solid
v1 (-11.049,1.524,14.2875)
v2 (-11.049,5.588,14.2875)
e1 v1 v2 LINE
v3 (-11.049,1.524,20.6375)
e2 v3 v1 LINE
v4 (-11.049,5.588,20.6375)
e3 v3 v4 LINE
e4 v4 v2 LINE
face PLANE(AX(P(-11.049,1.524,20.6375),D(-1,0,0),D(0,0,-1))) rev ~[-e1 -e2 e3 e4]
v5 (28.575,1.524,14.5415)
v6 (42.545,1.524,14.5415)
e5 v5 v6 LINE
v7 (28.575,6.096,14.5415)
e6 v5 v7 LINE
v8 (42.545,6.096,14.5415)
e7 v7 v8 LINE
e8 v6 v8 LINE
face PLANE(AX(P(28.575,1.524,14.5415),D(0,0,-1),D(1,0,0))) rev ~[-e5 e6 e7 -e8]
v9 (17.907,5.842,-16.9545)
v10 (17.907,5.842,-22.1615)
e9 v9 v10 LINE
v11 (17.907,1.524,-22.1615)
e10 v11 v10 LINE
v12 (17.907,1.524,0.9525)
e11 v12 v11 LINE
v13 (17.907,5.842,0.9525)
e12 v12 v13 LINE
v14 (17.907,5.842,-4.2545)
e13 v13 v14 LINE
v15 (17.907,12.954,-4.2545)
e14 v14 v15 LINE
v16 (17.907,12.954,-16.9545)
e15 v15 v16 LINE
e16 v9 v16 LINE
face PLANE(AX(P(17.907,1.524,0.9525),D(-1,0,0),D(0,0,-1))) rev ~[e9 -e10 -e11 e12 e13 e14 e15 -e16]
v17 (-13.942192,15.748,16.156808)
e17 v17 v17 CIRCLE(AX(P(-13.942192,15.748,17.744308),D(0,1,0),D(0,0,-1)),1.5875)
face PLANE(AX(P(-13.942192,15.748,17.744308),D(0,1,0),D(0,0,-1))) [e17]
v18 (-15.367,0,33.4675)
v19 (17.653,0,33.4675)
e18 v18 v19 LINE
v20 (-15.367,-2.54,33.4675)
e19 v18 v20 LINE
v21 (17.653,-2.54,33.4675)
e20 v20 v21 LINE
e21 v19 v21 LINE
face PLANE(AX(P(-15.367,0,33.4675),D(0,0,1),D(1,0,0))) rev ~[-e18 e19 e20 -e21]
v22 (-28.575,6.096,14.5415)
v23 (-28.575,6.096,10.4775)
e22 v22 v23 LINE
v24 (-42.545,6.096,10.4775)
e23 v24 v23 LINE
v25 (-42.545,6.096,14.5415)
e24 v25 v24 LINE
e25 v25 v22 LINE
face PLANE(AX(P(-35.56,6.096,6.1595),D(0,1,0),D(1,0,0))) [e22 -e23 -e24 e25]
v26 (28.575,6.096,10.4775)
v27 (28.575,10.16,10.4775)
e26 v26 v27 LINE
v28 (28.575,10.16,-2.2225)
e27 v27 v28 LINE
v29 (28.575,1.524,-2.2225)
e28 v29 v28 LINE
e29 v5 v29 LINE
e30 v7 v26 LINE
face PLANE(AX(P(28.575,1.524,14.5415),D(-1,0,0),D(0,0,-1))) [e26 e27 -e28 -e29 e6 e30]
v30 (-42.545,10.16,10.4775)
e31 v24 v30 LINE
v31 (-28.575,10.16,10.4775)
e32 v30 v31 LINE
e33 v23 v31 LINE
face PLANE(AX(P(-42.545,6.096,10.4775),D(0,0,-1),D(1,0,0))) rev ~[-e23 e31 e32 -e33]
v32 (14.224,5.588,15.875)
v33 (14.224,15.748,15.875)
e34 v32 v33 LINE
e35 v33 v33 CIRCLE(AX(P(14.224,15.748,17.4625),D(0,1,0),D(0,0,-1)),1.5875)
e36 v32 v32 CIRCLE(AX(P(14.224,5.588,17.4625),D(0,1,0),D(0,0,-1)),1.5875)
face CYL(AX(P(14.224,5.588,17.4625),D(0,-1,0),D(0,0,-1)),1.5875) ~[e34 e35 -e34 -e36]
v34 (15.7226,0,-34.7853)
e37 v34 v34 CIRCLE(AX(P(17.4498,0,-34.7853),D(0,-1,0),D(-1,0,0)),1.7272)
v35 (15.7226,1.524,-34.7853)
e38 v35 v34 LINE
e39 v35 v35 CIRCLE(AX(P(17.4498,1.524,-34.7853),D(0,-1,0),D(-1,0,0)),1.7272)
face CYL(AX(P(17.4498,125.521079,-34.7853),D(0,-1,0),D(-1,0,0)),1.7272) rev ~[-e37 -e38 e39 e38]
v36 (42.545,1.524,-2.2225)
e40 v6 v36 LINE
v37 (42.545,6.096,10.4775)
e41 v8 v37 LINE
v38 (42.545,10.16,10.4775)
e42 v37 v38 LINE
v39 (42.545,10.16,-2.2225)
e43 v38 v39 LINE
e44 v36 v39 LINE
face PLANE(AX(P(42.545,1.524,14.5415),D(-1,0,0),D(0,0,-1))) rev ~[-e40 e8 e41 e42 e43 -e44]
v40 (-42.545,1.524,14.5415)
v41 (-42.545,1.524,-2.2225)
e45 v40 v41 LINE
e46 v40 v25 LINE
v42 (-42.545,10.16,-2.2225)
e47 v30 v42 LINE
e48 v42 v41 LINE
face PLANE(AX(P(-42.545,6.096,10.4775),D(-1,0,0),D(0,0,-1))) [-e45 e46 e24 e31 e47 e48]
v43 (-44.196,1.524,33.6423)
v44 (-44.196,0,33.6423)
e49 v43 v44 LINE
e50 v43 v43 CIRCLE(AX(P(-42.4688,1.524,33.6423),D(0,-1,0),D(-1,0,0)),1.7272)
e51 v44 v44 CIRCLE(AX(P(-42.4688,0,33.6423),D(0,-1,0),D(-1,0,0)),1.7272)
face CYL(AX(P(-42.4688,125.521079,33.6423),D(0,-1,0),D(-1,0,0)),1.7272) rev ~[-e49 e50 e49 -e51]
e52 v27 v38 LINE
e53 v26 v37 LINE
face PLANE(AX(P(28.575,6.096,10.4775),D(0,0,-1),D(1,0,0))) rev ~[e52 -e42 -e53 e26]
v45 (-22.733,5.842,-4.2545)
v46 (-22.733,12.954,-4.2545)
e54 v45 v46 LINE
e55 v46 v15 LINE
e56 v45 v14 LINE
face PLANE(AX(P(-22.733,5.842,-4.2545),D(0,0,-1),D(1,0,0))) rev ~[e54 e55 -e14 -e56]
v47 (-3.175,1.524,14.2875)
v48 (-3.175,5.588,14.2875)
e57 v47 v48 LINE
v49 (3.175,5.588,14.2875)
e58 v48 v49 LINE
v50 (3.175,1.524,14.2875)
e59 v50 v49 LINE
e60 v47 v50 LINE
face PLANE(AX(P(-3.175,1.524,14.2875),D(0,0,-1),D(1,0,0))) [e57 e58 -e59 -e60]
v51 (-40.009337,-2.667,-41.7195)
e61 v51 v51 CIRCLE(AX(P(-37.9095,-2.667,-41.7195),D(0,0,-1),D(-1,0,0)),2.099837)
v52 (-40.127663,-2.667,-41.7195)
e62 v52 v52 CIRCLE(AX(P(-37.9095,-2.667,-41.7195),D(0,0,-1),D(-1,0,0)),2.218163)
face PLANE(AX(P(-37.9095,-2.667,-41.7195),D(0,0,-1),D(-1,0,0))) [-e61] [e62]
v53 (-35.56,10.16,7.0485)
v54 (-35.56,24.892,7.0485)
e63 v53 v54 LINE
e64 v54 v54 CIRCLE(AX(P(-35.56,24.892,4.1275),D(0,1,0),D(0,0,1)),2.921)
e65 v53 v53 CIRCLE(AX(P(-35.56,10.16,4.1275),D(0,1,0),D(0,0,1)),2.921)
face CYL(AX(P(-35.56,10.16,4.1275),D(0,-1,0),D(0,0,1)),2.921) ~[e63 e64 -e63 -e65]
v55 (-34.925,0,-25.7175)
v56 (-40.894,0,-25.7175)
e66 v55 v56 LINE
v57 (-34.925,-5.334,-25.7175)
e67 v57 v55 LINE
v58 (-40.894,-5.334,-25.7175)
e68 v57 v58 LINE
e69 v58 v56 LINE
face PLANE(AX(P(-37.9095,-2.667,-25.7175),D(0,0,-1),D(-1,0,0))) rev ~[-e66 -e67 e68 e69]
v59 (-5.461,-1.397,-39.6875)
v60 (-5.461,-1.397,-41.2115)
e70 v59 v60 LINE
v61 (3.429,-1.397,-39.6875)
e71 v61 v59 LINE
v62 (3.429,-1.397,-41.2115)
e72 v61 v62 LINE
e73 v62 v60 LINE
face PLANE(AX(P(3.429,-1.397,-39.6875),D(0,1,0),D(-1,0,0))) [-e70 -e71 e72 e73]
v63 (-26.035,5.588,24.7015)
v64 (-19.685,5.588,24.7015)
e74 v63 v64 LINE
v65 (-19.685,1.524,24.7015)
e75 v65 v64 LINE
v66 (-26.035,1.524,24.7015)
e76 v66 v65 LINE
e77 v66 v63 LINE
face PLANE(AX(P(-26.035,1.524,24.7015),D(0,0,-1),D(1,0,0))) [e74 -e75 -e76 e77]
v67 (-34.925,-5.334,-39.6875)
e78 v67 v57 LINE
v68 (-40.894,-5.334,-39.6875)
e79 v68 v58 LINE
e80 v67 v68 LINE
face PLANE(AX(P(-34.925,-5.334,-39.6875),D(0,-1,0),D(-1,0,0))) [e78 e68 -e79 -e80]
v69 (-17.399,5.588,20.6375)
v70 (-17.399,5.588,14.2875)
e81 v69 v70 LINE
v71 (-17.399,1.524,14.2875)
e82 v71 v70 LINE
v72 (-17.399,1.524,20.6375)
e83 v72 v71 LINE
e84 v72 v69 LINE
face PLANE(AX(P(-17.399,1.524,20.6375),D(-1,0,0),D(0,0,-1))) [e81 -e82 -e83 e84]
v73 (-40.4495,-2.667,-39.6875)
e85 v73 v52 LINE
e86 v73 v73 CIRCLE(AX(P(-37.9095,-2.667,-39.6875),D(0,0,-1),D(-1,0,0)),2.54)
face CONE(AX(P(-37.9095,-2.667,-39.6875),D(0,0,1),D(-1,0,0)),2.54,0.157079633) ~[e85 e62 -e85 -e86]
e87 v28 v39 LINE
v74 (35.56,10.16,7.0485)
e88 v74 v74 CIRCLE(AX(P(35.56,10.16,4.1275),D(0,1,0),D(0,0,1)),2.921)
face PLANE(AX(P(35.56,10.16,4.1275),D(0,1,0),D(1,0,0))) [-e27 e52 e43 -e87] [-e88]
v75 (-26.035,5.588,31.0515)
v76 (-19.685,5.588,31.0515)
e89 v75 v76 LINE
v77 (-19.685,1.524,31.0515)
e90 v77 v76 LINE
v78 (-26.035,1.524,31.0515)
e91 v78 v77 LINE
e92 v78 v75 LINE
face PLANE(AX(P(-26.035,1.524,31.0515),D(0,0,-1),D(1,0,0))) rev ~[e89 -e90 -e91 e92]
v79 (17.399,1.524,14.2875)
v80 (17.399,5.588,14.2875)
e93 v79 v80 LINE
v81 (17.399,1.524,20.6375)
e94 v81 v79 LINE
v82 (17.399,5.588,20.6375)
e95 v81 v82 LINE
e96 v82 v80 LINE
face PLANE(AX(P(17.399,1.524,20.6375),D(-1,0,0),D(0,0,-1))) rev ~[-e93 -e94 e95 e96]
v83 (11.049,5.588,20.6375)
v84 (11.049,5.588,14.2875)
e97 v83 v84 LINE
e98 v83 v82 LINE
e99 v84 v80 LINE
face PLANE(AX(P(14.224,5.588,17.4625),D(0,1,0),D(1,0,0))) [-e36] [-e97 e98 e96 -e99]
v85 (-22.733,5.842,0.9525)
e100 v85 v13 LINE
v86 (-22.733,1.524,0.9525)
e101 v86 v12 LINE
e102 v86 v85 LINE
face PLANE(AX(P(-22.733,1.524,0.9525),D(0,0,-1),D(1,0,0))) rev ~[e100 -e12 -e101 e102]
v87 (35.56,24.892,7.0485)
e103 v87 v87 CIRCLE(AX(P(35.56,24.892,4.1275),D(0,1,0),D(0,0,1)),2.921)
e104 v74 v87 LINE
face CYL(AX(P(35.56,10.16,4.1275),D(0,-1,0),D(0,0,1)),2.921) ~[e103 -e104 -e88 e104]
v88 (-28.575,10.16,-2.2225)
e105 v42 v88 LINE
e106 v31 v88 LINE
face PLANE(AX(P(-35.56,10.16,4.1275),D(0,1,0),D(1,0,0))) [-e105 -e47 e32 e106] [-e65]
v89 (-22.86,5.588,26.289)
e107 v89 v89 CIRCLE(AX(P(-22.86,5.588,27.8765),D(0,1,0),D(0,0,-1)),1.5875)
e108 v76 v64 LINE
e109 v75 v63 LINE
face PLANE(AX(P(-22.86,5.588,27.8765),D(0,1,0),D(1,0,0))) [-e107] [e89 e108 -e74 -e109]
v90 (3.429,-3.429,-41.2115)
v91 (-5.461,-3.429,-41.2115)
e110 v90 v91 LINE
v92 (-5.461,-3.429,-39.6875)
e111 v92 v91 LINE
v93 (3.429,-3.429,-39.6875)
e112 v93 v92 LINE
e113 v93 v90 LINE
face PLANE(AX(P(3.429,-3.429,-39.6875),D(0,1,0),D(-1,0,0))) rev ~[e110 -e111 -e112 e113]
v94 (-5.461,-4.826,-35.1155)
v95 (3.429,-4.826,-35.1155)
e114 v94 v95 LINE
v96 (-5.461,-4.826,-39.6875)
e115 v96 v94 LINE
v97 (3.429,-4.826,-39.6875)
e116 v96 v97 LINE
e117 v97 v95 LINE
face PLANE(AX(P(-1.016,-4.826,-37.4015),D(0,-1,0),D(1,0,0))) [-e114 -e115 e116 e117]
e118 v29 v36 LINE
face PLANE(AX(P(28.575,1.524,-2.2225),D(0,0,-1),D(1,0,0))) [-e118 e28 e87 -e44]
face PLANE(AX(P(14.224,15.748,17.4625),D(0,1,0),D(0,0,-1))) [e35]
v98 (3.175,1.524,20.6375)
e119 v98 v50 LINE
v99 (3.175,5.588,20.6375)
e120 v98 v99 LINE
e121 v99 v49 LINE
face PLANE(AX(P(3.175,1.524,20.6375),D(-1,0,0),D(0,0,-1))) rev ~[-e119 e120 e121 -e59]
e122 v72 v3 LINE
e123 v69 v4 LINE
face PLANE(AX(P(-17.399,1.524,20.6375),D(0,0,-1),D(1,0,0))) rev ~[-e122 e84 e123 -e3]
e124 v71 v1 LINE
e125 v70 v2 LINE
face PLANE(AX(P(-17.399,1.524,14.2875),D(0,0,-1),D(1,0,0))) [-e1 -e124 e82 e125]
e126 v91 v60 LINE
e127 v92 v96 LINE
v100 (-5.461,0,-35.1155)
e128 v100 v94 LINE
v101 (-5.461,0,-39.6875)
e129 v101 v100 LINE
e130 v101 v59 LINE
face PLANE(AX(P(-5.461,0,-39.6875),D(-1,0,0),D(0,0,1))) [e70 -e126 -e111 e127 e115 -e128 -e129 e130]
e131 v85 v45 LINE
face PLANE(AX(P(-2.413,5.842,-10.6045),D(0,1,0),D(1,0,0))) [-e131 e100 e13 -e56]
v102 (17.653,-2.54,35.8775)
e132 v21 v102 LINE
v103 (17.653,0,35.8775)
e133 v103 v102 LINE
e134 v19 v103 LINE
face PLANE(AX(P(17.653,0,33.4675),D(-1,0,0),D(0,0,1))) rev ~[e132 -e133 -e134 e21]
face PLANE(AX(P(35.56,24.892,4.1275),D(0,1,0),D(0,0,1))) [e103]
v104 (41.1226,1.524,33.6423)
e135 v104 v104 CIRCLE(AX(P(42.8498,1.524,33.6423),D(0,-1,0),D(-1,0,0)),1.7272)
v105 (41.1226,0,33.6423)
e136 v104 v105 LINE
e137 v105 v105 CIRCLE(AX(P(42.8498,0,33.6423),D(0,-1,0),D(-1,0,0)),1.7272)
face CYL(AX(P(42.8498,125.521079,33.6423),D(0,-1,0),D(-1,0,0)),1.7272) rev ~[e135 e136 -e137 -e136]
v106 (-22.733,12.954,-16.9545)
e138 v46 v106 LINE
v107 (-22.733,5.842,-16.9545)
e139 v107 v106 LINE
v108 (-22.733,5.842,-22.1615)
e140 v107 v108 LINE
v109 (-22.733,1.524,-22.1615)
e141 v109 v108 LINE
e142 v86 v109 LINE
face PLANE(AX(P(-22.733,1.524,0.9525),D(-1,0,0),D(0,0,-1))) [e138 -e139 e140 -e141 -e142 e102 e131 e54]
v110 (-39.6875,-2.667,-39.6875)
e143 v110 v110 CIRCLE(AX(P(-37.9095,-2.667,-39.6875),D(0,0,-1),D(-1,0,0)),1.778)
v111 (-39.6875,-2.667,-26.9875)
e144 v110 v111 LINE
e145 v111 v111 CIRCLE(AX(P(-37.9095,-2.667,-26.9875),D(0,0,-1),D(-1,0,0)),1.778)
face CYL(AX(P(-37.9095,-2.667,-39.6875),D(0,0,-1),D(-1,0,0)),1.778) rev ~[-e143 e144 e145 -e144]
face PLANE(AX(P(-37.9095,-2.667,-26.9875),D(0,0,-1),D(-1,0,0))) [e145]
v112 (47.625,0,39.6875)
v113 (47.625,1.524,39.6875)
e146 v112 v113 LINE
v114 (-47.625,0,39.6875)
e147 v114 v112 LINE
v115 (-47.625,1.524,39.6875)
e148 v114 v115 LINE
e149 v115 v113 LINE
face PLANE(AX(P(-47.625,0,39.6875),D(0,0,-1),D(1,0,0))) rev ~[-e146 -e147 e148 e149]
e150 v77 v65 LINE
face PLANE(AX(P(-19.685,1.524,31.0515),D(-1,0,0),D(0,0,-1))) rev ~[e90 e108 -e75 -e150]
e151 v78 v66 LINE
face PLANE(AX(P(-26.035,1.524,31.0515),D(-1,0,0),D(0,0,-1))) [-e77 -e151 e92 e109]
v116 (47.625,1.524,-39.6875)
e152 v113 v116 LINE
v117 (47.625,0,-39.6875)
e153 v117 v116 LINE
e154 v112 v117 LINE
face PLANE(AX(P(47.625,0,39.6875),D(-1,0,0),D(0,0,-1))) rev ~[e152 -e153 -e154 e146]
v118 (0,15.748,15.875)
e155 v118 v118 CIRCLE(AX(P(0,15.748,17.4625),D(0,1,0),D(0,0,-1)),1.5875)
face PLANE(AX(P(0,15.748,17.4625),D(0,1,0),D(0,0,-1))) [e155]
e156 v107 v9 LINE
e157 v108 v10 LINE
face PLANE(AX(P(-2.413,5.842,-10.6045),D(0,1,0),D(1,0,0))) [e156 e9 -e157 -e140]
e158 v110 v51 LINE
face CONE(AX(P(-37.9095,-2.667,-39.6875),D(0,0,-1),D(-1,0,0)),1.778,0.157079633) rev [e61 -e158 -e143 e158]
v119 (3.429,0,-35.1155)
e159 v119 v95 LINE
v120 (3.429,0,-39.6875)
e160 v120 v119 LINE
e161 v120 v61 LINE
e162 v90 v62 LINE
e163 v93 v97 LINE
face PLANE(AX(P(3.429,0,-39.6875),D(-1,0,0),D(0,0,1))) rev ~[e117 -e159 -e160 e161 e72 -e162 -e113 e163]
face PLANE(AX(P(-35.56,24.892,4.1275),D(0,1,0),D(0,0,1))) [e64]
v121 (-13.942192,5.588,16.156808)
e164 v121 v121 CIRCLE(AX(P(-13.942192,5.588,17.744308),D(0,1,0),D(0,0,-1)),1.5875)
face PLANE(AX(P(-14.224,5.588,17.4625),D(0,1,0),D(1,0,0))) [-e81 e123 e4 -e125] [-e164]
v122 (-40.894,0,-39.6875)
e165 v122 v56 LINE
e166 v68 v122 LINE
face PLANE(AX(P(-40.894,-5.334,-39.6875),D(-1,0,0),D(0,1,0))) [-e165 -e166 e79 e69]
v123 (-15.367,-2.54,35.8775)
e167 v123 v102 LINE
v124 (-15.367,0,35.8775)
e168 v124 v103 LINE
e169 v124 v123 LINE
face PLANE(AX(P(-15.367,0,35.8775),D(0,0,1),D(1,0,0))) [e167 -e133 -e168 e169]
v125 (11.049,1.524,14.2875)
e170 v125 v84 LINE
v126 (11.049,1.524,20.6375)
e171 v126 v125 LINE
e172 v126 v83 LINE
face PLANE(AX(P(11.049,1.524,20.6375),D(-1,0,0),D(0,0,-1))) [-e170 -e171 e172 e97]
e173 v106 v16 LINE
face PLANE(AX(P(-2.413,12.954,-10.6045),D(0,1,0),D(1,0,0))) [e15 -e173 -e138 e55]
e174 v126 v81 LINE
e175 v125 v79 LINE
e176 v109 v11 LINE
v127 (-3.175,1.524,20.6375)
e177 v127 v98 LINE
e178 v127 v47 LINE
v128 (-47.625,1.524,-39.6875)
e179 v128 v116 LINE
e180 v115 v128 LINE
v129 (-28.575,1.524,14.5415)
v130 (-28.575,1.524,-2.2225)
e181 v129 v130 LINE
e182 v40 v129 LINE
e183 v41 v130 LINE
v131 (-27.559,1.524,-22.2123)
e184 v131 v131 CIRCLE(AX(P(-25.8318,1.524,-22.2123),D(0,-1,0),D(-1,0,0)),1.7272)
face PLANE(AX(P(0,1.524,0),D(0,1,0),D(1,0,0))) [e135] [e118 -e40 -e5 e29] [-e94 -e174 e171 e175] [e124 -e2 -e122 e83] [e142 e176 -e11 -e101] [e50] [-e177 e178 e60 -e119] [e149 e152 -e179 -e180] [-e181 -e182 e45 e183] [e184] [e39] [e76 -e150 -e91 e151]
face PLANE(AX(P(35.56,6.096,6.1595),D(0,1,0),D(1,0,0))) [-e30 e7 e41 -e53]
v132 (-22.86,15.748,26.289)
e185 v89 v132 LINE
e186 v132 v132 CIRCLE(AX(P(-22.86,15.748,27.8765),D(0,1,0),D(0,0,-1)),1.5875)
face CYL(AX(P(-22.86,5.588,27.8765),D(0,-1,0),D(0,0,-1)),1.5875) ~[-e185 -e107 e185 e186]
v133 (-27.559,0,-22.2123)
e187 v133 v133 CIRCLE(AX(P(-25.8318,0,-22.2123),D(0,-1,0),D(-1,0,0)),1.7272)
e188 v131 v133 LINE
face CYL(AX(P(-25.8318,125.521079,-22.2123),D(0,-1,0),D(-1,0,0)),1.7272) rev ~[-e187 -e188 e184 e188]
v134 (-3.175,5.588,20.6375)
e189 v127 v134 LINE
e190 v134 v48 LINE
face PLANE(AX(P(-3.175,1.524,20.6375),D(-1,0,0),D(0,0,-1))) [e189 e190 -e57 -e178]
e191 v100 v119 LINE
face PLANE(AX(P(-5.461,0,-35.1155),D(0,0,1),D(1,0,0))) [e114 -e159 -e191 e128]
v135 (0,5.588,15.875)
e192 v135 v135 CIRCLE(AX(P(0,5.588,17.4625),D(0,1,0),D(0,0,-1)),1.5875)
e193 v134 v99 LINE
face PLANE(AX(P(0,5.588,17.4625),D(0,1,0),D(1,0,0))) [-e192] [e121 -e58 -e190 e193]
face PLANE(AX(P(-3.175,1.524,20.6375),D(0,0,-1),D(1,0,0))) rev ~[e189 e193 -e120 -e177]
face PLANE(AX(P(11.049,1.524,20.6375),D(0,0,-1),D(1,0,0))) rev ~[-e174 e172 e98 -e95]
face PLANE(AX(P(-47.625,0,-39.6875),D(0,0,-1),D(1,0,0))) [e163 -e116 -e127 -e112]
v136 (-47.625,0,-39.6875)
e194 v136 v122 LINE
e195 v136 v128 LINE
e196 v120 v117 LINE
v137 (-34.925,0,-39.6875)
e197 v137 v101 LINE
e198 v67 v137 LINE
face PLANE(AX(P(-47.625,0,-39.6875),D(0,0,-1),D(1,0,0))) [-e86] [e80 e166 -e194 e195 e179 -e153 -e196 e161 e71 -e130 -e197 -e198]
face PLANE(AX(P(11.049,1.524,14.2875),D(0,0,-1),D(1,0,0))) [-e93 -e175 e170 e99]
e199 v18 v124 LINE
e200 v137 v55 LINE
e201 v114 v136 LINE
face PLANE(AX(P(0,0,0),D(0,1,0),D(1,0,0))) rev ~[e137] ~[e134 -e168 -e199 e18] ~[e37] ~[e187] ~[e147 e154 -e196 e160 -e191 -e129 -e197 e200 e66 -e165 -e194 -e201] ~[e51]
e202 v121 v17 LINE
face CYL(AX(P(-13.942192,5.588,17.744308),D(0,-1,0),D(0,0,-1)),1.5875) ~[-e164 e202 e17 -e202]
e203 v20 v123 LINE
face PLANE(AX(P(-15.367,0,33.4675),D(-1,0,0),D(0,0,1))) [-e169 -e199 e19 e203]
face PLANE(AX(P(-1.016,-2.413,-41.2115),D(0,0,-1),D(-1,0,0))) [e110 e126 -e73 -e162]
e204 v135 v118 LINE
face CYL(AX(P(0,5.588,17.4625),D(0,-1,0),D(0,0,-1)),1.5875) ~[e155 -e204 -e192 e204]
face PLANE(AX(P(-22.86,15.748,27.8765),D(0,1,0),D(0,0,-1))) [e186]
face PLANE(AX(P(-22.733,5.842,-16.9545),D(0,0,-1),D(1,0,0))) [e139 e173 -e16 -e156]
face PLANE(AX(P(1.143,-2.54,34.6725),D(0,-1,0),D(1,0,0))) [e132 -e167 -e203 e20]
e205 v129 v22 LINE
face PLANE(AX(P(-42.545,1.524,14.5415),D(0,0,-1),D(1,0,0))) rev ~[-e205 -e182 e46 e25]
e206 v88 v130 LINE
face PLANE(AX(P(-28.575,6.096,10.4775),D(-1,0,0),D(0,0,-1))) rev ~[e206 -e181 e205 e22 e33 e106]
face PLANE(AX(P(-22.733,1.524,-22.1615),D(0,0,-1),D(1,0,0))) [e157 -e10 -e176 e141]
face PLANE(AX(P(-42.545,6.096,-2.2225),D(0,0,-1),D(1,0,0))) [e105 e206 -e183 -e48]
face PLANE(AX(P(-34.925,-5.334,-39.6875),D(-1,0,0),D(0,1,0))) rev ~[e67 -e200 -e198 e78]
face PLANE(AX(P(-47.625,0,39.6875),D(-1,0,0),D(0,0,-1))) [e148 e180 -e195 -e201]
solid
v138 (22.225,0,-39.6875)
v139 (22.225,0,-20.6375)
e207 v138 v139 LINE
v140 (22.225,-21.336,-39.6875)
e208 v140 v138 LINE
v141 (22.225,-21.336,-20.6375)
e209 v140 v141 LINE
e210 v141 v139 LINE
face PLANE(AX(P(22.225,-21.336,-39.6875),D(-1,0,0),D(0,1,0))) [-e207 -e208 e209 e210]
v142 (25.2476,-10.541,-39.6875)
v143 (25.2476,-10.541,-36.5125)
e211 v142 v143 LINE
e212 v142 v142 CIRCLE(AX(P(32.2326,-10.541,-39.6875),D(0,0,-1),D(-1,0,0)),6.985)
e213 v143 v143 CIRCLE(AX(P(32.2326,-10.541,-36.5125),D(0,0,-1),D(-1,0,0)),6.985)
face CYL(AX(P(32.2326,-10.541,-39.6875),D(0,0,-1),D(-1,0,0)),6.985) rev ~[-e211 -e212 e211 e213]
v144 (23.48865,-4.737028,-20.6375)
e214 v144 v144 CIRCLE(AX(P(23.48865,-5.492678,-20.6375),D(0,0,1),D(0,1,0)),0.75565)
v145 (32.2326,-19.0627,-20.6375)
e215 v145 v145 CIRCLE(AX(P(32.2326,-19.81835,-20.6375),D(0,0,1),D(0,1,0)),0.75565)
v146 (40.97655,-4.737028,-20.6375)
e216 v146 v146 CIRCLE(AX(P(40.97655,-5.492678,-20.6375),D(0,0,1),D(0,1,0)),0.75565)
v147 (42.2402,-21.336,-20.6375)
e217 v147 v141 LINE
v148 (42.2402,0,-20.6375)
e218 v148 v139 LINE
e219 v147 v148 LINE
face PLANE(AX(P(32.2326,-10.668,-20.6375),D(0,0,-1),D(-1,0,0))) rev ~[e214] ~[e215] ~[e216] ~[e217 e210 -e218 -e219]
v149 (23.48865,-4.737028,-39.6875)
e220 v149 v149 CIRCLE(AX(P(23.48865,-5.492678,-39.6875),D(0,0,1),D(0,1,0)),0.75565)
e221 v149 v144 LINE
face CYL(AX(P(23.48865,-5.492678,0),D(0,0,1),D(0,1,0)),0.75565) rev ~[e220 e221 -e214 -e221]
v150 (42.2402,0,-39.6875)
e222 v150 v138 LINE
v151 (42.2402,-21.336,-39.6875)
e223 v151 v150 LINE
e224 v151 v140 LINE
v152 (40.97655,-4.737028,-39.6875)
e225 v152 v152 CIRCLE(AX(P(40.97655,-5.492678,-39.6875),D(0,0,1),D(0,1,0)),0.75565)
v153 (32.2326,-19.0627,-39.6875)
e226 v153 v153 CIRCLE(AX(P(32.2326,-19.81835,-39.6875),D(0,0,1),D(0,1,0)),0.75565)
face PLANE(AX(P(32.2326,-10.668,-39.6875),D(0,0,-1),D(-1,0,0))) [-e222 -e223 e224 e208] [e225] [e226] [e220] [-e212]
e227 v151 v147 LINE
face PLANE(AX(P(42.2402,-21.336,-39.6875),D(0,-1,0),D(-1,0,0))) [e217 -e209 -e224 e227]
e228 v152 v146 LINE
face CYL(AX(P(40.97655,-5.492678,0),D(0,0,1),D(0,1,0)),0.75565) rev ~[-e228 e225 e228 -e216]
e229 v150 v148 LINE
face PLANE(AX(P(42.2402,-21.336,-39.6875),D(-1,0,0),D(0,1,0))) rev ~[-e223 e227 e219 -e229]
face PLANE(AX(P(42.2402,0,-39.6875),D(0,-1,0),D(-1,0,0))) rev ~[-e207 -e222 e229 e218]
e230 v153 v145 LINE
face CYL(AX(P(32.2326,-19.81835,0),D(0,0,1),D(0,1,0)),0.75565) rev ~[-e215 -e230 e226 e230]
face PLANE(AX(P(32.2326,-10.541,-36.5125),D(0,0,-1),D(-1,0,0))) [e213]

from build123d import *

# Parameters (mm, degrees)
SKETCH1_W                             = 95.25
SKETCH1_H                             = 79.375
BOSS_EXTRUDE1_DEPTH                   = 1.524
F_29_0_136_DIAMETER_HOLE1_D           = 3.4544
SKETCH4_W                             = 13.97
SKETCH4_H                             = 16.764
BOSS_EXTRUDE2_DEPTH                   = 4.572
SKETCH5_W                             = 13.97
SKETCH5_H                             = 12.7
BOSS_EXTRUDE3_DEPTH                   = 4.064
SKETCH8_W                             = 6.35
SKETCH8_H                             = 6.35
BOSS_EXTRUDE5_DEPTH                   = 4.064
SKETCH9_R                             = 1.5875
BOSS_EXTRUDE6_DEPTH                   = 10.16
SKETCH10_R                            = 2.921
BOSS_EXTRUDE7_DEPTH                   = 14.732
SKETCH11_W                            = 20.0152
SKETCH11_H                            = 21.336
BOSS_EXTRUDE8_DEPTH                   = 19.05
SKETCH12_R                            = 6.985
CUT_EXTRUDE1_DEPTH                    = 3.175
SKETCH14_W                            = 0.75565
SKETCH14_H                            = 79.375
F_53_0_0595_DIAMETER_HOLE1_AT_2_COUNT = 2
F_53_0_0595_DIAMETER_HOLE1_AT_2_PITCH = 17.4879
F_53_0_0595_DIAMETER_HOLE1_AT_3_COUNT = 2
F_53_0_0595_DIAMETER_HOLE1_AT_3_PITCH = 16.783370835
SKETCH15_W                            = 5.969
SKETCH15_H                            = 5.334
BOSS_EXTRUDE9_DEPTH                   = 13.97
SKETCH16_R                            = 2.54
SKETCH16_R_2                          = 1.778
BOSS_EXTRUDE10_DEPTH                  = 2.032
BOSS_EXTRUDE10_DRAFT                  = 9
SKETCH17_R                            = 1.778
CUT_EXTRUDE2_DEPTH                    = 12.7
SKETCH18_W                            = 40.64
SKETCH18_H                            = 23.114
BOSS_EXTRUDE11_DEPTH                  = 4.318
SKETCH19_W                            = 40.64
SKETCH19_H                            = 12.7
BOSS_EXTRUDE12_DEPTH                  = 7.112
SKETCH20_W                            = 33.02
SKETCH20_H                            = 2.410000006
BOSS_EXTRUDE13_DEPTH                  = 2.54
SKETCH21_W                            = 8.89
SKETCH21_H                            = 4.572
BOSS_EXTRUDE14_DEPTH                  = 4.826
SKETCH22_W                            = 8.89
SKETCH22_H                            = 2.032
BOSS_EXTRUDE15_DEPTH                  = 1.524


with BuildPart() as part:
    # Sketch1 → Boss-Extrude1 (new body)
    with BuildSketch(Plane(origin=(0, 0, 0), x_dir=(1, 0, 0), z_dir=(0, 1, 0))):
        Rectangle(SKETCH1_W, SKETCH1_H)
    extrude(amount=BOSS_EXTRUDE1_DEPTH)

    # #29 (0.136) Diameter Hole1 (through all)
    with Locations(Plane(origin=(0, 1.524, 0), x_dir=(1, 0, 0), z_dir=(0, 1, 0))):
        with Locations((42.8498, -33.6423), (17.4498, 34.7853), (-25.8318, 22.2123), (-42.4688, -33.6423)):
            Hole(F_29_0_136_DIAMETER_HOLE1_D / 2)

    # Sketch4 → Boss-Extrude2 (add)
    with BuildSketch(Plane(origin=(0, 1.524, 0), x_dir=(1, 0, 0), z_dir=(0, 1, 0))):
        with Locations((35.56, -6.1595)):
            Rectangle(SKETCH4_W, SKETCH4_H)
        with Locations((-35.56, -6.1595)):
            Rectangle(SKETCH4_W, SKETCH4_H)
    extrude(amount=BOSS_EXTRUDE2_DEPTH)

    # Sketch5 → Boss-Extrude3 (add)
    with BuildSketch(Plane(origin=(0, 6.096, 0), x_dir=(1, 0, 0), z_dir=(0, 1, 0))):
        with Locations((-35.56, -4.1275)):
            Rectangle(SKETCH5_W, SKETCH5_H)
        with Locations((35.56, -4.1275)):
            Rectangle(SKETCH5_W, SKETCH5_H)
    extrude(amount=BOSS_EXTRUDE3_DEPTH)

    # Sketch8 → Boss-Extrude5 (add)
    with BuildSketch(Plane(origin=(0, 1.524, 0), x_dir=(1, 0, 0), z_dir=(0, 1, 0))):
        with Locations((-22.86, -27.8765)):
            Rectangle(SKETCH8_W, SKETCH8_H)
        with Locations((14.224, -17.4625)):
            Rectangle(SKETCH8_W, SKETCH8_H)
        with Locations((0, -17.4625)):
            Rectangle(SKETCH8_W, SKETCH8_H)
        with Locations((-14.224, -17.4625)):
            Rectangle(SKETCH8_W, SKETCH8_H)
    extrude(amount=BOSS_EXTRUDE5_DEPTH)

    # Sketch9 → Boss-Extrude6 (add)
    with BuildSketch(Plane(origin=(0, 5.588, 0), x_dir=(1, 0, 0), z_dir=(0, 1, 0))):
        with Locations(Location((-13.942192497, -17.744307503, 0), (0, 0, 90))):
            Circle(SKETCH9_R)
        with Locations(Location((0, -17.4625, 0), (0, 0, 90))):
            Circle(SKETCH9_R)
        with Locations(Location((14.224, -17.4625, 0), (0, 0, 90))):
            Circle(SKETCH9_R)
        with Locations(Location((-22.86, -27.8765, 0), (0, 0, 90))):
            Circle(SKETCH9_R)
    extrude(amount=BOSS_EXTRUDE6_DEPTH)

    # Sketch10 → Boss-Extrude7 (add)
    with BuildSketch(Plane(origin=(0, 10.16, 0), x_dir=(1, 0, 0), z_dir=(0, 1, 0))):
        with Locations(Location((-35.56, -4.1275, 0), (0, 0, 270))):
            Circle(SKETCH10_R)
        with Locations(Location((35.56, -4.1275, 0), (0, 0, 270))):
            Circle(SKETCH10_R)
    extrude(amount=BOSS_EXTRUDE7_DEPTH)

    # Sketch15 → Boss-Extrude9 (add)
    with BuildSketch(Plane(origin=(0, 0, -39.6875), x_dir=(-1, 0, 0), z_dir=(0, 0, -1))):
        with Locations((37.9095, -2.667)):
            Rectangle(SKETCH15_W, SKETCH15_H)
    extrude(amount=-BOSS_EXTRUDE9_DEPTH)


with BuildPart() as body_2:
    # Sketch11 → Boss-Extrude8 (new body)
    with BuildSketch(Plane(origin=(0, 0, -39.6875), x_dir=(-1, 0, 0), z_dir=(0, 0, -1))):
        with Locations((-32.2326, -10.668)):
            Rectangle(SKETCH11_W, SKETCH11_H)
    extrude(amount=-BOSS_EXTRUDE8_DEPTH)

    # Sketch12 → Cut-Extrude1 (cut)
    with BuildSketch(Plane(origin=(0, 0, -39.6875), x_dir=(-1, 0, 0), z_dir=(0, 0, -1))):
        with Locations((-32.2326, -10.541)):
            Circle(SKETCH12_R)
    extrude(amount=-CUT_EXTRUDE1_DEPTH, mode=Mode.SUBTRACT)

    # Sketch14 → #53 (0.0595) Diameter Hole1 (revolve, cut)
    with BuildSketch(Plane(origin=(40.97655, -5.492678114, -39.6875), x_dir=(0, 1, 0), z_dir=(1, 0, 0))):
        with Locations((0.377825, 39.6875)):
            Rectangle(SKETCH14_W, SKETCH14_H)
    f_53_0_0595_diameter_hole1 = revolve(axis=Axis((40.97655, -5.492678114, -46.0375), (0, 0, 1)), mode=Mode.SUBTRACT)

    # #53 (0.0595) Diameter Hole1 at 2: #53 (0.0595) Diameter Hole1 ×2
    with Locations(*[(-i * F_53_0_0595_DIAMETER_HOLE1_AT_2_PITCH, 0, 0) for i in range(1, F_53_0_0595_DIAMETER_HOLE1_AT_2_COUNT)]):
        add(f_53_0_0595_diameter_hole1, mode=Mode.SUBTRACT)

    # #53 (0.0595) Diameter Hole1 at 3: #53 (0.0595) Diameter Hole1 ×2
    with Locations(*[Vector(-0.5209889053752342, -0.8535634484184028, 0) * (i * F_53_0_0595_DIAMETER_HOLE1_AT_3_PITCH) for i in range(1, F_53_0_0595_DIAMETER_HOLE1_AT_3_COUNT)]):
        add(f_53_0_0595_diameter_hole1, mode=Mode.SUBTRACT)


with BuildPart() as boss_extrude10_tool:
    # Sketch16 → Boss-Extrude10 (with draft: the straight prism first)
    with BuildSketch(Plane(origin=(0, 0, -39.6875), x_dir=(-1, 0, 0), z_dir=(0, 0, -1))):
        with Locations((37.9095, -2.667)):
            Circle(SKETCH16_R)
        with Locations((37.9095, -2.667)):
            Circle(SKETCH16_R_2, mode=Mode.SUBTRACT)
    extrude(amount=BOSS_EXTRUDE10_DEPTH)
    # Boss-Extrude10: the draft: its side faces are tilted about the plane it starts from
    boss_extrude10_sides = [boss_extrude10_tool.faces().sort_by_distance(p)[0] for p in [
        (-35.3695, -2.667, -40.7035),
        (-36.1315, -2.667, -40.7035),
    ]]
    draft(boss_extrude10_sides, Plane(origin=(0, 0, -39.6875), x_dir=(-1, 0, 0), z_dir=(0, 0, -1)), BOSS_EXTRUDE10_DRAFT)


with BuildPart() as part_1:
    add(part.part)

    # Boss-Extrude10: add boss_extrude10_tool
    add(boss_extrude10_tool.part)

    # Sketch17 → Cut-Extrude2 (cut)
    with BuildSketch(Plane(origin=(0, 0, -39.6875), x_dir=(-1, 0, 0), z_dir=(0, 0, -1))):
        with Locations((37.9095, -2.667)):
            Circle(SKETCH17_R)
    extrude(amount=-CUT_EXTRUDE2_DEPTH, mode=Mode.SUBTRACT)

    # Sketch18 → Boss-Extrude11 (add)
    with BuildSketch(Plane(origin=(0, 1.524, 0), x_dir=(1, 0, 0), z_dir=(0, 1, 0))):
        with Locations((-2.413, 10.6045)):
            Rectangle(SKETCH18_W, SKETCH18_H)
    extrude(amount=BOSS_EXTRUDE11_DEPTH)

    # Sketch19 → Boss-Extrude12 (add)
    with BuildSketch(Plane(origin=(0, 5.842, 0), x_dir=(1, 0, 0), z_dir=(0, 1, 0))):
        with Locations((-2.413, 10.6045)):
            Rectangle(SKETCH19_W, SKETCH19_H)
    extrude(amount=BOSS_EXTRUDE12_DEPTH)

    # Sketch20 → Boss-Extrude13 (add)
    with BuildSketch(Plane.XZ):
        with Locations((1.143, 34.672499997)):
            Rectangle(SKETCH20_W, SKETCH20_H)
    extrude(amount=BOSS_EXTRUDE13_DEPTH)

    # Sketch21 → Boss-Extrude14 (add)
    with BuildSketch(Plane.XZ):
        with Locations((-1.016, -37.4015)):
            Rectangle(SKETCH21_W, SKETCH21_H)
    extrude(amount=BOSS_EXTRUDE14_DEPTH)

    # Sketch22 → Boss-Extrude15 (add)
    with BuildSketch(Plane(origin=(0, 0, -39.6875), x_dir=(-1, 0, 0), z_dir=(0, 0, -1))):
        with Locations((1.016, -2.413)):
            Rectangle(SKETCH22_W, SKETCH22_H)
    extrude(amount=BOSS_EXTRUDE15_DEPTH)


solid = Compound([body_2.part, part_1.part])
